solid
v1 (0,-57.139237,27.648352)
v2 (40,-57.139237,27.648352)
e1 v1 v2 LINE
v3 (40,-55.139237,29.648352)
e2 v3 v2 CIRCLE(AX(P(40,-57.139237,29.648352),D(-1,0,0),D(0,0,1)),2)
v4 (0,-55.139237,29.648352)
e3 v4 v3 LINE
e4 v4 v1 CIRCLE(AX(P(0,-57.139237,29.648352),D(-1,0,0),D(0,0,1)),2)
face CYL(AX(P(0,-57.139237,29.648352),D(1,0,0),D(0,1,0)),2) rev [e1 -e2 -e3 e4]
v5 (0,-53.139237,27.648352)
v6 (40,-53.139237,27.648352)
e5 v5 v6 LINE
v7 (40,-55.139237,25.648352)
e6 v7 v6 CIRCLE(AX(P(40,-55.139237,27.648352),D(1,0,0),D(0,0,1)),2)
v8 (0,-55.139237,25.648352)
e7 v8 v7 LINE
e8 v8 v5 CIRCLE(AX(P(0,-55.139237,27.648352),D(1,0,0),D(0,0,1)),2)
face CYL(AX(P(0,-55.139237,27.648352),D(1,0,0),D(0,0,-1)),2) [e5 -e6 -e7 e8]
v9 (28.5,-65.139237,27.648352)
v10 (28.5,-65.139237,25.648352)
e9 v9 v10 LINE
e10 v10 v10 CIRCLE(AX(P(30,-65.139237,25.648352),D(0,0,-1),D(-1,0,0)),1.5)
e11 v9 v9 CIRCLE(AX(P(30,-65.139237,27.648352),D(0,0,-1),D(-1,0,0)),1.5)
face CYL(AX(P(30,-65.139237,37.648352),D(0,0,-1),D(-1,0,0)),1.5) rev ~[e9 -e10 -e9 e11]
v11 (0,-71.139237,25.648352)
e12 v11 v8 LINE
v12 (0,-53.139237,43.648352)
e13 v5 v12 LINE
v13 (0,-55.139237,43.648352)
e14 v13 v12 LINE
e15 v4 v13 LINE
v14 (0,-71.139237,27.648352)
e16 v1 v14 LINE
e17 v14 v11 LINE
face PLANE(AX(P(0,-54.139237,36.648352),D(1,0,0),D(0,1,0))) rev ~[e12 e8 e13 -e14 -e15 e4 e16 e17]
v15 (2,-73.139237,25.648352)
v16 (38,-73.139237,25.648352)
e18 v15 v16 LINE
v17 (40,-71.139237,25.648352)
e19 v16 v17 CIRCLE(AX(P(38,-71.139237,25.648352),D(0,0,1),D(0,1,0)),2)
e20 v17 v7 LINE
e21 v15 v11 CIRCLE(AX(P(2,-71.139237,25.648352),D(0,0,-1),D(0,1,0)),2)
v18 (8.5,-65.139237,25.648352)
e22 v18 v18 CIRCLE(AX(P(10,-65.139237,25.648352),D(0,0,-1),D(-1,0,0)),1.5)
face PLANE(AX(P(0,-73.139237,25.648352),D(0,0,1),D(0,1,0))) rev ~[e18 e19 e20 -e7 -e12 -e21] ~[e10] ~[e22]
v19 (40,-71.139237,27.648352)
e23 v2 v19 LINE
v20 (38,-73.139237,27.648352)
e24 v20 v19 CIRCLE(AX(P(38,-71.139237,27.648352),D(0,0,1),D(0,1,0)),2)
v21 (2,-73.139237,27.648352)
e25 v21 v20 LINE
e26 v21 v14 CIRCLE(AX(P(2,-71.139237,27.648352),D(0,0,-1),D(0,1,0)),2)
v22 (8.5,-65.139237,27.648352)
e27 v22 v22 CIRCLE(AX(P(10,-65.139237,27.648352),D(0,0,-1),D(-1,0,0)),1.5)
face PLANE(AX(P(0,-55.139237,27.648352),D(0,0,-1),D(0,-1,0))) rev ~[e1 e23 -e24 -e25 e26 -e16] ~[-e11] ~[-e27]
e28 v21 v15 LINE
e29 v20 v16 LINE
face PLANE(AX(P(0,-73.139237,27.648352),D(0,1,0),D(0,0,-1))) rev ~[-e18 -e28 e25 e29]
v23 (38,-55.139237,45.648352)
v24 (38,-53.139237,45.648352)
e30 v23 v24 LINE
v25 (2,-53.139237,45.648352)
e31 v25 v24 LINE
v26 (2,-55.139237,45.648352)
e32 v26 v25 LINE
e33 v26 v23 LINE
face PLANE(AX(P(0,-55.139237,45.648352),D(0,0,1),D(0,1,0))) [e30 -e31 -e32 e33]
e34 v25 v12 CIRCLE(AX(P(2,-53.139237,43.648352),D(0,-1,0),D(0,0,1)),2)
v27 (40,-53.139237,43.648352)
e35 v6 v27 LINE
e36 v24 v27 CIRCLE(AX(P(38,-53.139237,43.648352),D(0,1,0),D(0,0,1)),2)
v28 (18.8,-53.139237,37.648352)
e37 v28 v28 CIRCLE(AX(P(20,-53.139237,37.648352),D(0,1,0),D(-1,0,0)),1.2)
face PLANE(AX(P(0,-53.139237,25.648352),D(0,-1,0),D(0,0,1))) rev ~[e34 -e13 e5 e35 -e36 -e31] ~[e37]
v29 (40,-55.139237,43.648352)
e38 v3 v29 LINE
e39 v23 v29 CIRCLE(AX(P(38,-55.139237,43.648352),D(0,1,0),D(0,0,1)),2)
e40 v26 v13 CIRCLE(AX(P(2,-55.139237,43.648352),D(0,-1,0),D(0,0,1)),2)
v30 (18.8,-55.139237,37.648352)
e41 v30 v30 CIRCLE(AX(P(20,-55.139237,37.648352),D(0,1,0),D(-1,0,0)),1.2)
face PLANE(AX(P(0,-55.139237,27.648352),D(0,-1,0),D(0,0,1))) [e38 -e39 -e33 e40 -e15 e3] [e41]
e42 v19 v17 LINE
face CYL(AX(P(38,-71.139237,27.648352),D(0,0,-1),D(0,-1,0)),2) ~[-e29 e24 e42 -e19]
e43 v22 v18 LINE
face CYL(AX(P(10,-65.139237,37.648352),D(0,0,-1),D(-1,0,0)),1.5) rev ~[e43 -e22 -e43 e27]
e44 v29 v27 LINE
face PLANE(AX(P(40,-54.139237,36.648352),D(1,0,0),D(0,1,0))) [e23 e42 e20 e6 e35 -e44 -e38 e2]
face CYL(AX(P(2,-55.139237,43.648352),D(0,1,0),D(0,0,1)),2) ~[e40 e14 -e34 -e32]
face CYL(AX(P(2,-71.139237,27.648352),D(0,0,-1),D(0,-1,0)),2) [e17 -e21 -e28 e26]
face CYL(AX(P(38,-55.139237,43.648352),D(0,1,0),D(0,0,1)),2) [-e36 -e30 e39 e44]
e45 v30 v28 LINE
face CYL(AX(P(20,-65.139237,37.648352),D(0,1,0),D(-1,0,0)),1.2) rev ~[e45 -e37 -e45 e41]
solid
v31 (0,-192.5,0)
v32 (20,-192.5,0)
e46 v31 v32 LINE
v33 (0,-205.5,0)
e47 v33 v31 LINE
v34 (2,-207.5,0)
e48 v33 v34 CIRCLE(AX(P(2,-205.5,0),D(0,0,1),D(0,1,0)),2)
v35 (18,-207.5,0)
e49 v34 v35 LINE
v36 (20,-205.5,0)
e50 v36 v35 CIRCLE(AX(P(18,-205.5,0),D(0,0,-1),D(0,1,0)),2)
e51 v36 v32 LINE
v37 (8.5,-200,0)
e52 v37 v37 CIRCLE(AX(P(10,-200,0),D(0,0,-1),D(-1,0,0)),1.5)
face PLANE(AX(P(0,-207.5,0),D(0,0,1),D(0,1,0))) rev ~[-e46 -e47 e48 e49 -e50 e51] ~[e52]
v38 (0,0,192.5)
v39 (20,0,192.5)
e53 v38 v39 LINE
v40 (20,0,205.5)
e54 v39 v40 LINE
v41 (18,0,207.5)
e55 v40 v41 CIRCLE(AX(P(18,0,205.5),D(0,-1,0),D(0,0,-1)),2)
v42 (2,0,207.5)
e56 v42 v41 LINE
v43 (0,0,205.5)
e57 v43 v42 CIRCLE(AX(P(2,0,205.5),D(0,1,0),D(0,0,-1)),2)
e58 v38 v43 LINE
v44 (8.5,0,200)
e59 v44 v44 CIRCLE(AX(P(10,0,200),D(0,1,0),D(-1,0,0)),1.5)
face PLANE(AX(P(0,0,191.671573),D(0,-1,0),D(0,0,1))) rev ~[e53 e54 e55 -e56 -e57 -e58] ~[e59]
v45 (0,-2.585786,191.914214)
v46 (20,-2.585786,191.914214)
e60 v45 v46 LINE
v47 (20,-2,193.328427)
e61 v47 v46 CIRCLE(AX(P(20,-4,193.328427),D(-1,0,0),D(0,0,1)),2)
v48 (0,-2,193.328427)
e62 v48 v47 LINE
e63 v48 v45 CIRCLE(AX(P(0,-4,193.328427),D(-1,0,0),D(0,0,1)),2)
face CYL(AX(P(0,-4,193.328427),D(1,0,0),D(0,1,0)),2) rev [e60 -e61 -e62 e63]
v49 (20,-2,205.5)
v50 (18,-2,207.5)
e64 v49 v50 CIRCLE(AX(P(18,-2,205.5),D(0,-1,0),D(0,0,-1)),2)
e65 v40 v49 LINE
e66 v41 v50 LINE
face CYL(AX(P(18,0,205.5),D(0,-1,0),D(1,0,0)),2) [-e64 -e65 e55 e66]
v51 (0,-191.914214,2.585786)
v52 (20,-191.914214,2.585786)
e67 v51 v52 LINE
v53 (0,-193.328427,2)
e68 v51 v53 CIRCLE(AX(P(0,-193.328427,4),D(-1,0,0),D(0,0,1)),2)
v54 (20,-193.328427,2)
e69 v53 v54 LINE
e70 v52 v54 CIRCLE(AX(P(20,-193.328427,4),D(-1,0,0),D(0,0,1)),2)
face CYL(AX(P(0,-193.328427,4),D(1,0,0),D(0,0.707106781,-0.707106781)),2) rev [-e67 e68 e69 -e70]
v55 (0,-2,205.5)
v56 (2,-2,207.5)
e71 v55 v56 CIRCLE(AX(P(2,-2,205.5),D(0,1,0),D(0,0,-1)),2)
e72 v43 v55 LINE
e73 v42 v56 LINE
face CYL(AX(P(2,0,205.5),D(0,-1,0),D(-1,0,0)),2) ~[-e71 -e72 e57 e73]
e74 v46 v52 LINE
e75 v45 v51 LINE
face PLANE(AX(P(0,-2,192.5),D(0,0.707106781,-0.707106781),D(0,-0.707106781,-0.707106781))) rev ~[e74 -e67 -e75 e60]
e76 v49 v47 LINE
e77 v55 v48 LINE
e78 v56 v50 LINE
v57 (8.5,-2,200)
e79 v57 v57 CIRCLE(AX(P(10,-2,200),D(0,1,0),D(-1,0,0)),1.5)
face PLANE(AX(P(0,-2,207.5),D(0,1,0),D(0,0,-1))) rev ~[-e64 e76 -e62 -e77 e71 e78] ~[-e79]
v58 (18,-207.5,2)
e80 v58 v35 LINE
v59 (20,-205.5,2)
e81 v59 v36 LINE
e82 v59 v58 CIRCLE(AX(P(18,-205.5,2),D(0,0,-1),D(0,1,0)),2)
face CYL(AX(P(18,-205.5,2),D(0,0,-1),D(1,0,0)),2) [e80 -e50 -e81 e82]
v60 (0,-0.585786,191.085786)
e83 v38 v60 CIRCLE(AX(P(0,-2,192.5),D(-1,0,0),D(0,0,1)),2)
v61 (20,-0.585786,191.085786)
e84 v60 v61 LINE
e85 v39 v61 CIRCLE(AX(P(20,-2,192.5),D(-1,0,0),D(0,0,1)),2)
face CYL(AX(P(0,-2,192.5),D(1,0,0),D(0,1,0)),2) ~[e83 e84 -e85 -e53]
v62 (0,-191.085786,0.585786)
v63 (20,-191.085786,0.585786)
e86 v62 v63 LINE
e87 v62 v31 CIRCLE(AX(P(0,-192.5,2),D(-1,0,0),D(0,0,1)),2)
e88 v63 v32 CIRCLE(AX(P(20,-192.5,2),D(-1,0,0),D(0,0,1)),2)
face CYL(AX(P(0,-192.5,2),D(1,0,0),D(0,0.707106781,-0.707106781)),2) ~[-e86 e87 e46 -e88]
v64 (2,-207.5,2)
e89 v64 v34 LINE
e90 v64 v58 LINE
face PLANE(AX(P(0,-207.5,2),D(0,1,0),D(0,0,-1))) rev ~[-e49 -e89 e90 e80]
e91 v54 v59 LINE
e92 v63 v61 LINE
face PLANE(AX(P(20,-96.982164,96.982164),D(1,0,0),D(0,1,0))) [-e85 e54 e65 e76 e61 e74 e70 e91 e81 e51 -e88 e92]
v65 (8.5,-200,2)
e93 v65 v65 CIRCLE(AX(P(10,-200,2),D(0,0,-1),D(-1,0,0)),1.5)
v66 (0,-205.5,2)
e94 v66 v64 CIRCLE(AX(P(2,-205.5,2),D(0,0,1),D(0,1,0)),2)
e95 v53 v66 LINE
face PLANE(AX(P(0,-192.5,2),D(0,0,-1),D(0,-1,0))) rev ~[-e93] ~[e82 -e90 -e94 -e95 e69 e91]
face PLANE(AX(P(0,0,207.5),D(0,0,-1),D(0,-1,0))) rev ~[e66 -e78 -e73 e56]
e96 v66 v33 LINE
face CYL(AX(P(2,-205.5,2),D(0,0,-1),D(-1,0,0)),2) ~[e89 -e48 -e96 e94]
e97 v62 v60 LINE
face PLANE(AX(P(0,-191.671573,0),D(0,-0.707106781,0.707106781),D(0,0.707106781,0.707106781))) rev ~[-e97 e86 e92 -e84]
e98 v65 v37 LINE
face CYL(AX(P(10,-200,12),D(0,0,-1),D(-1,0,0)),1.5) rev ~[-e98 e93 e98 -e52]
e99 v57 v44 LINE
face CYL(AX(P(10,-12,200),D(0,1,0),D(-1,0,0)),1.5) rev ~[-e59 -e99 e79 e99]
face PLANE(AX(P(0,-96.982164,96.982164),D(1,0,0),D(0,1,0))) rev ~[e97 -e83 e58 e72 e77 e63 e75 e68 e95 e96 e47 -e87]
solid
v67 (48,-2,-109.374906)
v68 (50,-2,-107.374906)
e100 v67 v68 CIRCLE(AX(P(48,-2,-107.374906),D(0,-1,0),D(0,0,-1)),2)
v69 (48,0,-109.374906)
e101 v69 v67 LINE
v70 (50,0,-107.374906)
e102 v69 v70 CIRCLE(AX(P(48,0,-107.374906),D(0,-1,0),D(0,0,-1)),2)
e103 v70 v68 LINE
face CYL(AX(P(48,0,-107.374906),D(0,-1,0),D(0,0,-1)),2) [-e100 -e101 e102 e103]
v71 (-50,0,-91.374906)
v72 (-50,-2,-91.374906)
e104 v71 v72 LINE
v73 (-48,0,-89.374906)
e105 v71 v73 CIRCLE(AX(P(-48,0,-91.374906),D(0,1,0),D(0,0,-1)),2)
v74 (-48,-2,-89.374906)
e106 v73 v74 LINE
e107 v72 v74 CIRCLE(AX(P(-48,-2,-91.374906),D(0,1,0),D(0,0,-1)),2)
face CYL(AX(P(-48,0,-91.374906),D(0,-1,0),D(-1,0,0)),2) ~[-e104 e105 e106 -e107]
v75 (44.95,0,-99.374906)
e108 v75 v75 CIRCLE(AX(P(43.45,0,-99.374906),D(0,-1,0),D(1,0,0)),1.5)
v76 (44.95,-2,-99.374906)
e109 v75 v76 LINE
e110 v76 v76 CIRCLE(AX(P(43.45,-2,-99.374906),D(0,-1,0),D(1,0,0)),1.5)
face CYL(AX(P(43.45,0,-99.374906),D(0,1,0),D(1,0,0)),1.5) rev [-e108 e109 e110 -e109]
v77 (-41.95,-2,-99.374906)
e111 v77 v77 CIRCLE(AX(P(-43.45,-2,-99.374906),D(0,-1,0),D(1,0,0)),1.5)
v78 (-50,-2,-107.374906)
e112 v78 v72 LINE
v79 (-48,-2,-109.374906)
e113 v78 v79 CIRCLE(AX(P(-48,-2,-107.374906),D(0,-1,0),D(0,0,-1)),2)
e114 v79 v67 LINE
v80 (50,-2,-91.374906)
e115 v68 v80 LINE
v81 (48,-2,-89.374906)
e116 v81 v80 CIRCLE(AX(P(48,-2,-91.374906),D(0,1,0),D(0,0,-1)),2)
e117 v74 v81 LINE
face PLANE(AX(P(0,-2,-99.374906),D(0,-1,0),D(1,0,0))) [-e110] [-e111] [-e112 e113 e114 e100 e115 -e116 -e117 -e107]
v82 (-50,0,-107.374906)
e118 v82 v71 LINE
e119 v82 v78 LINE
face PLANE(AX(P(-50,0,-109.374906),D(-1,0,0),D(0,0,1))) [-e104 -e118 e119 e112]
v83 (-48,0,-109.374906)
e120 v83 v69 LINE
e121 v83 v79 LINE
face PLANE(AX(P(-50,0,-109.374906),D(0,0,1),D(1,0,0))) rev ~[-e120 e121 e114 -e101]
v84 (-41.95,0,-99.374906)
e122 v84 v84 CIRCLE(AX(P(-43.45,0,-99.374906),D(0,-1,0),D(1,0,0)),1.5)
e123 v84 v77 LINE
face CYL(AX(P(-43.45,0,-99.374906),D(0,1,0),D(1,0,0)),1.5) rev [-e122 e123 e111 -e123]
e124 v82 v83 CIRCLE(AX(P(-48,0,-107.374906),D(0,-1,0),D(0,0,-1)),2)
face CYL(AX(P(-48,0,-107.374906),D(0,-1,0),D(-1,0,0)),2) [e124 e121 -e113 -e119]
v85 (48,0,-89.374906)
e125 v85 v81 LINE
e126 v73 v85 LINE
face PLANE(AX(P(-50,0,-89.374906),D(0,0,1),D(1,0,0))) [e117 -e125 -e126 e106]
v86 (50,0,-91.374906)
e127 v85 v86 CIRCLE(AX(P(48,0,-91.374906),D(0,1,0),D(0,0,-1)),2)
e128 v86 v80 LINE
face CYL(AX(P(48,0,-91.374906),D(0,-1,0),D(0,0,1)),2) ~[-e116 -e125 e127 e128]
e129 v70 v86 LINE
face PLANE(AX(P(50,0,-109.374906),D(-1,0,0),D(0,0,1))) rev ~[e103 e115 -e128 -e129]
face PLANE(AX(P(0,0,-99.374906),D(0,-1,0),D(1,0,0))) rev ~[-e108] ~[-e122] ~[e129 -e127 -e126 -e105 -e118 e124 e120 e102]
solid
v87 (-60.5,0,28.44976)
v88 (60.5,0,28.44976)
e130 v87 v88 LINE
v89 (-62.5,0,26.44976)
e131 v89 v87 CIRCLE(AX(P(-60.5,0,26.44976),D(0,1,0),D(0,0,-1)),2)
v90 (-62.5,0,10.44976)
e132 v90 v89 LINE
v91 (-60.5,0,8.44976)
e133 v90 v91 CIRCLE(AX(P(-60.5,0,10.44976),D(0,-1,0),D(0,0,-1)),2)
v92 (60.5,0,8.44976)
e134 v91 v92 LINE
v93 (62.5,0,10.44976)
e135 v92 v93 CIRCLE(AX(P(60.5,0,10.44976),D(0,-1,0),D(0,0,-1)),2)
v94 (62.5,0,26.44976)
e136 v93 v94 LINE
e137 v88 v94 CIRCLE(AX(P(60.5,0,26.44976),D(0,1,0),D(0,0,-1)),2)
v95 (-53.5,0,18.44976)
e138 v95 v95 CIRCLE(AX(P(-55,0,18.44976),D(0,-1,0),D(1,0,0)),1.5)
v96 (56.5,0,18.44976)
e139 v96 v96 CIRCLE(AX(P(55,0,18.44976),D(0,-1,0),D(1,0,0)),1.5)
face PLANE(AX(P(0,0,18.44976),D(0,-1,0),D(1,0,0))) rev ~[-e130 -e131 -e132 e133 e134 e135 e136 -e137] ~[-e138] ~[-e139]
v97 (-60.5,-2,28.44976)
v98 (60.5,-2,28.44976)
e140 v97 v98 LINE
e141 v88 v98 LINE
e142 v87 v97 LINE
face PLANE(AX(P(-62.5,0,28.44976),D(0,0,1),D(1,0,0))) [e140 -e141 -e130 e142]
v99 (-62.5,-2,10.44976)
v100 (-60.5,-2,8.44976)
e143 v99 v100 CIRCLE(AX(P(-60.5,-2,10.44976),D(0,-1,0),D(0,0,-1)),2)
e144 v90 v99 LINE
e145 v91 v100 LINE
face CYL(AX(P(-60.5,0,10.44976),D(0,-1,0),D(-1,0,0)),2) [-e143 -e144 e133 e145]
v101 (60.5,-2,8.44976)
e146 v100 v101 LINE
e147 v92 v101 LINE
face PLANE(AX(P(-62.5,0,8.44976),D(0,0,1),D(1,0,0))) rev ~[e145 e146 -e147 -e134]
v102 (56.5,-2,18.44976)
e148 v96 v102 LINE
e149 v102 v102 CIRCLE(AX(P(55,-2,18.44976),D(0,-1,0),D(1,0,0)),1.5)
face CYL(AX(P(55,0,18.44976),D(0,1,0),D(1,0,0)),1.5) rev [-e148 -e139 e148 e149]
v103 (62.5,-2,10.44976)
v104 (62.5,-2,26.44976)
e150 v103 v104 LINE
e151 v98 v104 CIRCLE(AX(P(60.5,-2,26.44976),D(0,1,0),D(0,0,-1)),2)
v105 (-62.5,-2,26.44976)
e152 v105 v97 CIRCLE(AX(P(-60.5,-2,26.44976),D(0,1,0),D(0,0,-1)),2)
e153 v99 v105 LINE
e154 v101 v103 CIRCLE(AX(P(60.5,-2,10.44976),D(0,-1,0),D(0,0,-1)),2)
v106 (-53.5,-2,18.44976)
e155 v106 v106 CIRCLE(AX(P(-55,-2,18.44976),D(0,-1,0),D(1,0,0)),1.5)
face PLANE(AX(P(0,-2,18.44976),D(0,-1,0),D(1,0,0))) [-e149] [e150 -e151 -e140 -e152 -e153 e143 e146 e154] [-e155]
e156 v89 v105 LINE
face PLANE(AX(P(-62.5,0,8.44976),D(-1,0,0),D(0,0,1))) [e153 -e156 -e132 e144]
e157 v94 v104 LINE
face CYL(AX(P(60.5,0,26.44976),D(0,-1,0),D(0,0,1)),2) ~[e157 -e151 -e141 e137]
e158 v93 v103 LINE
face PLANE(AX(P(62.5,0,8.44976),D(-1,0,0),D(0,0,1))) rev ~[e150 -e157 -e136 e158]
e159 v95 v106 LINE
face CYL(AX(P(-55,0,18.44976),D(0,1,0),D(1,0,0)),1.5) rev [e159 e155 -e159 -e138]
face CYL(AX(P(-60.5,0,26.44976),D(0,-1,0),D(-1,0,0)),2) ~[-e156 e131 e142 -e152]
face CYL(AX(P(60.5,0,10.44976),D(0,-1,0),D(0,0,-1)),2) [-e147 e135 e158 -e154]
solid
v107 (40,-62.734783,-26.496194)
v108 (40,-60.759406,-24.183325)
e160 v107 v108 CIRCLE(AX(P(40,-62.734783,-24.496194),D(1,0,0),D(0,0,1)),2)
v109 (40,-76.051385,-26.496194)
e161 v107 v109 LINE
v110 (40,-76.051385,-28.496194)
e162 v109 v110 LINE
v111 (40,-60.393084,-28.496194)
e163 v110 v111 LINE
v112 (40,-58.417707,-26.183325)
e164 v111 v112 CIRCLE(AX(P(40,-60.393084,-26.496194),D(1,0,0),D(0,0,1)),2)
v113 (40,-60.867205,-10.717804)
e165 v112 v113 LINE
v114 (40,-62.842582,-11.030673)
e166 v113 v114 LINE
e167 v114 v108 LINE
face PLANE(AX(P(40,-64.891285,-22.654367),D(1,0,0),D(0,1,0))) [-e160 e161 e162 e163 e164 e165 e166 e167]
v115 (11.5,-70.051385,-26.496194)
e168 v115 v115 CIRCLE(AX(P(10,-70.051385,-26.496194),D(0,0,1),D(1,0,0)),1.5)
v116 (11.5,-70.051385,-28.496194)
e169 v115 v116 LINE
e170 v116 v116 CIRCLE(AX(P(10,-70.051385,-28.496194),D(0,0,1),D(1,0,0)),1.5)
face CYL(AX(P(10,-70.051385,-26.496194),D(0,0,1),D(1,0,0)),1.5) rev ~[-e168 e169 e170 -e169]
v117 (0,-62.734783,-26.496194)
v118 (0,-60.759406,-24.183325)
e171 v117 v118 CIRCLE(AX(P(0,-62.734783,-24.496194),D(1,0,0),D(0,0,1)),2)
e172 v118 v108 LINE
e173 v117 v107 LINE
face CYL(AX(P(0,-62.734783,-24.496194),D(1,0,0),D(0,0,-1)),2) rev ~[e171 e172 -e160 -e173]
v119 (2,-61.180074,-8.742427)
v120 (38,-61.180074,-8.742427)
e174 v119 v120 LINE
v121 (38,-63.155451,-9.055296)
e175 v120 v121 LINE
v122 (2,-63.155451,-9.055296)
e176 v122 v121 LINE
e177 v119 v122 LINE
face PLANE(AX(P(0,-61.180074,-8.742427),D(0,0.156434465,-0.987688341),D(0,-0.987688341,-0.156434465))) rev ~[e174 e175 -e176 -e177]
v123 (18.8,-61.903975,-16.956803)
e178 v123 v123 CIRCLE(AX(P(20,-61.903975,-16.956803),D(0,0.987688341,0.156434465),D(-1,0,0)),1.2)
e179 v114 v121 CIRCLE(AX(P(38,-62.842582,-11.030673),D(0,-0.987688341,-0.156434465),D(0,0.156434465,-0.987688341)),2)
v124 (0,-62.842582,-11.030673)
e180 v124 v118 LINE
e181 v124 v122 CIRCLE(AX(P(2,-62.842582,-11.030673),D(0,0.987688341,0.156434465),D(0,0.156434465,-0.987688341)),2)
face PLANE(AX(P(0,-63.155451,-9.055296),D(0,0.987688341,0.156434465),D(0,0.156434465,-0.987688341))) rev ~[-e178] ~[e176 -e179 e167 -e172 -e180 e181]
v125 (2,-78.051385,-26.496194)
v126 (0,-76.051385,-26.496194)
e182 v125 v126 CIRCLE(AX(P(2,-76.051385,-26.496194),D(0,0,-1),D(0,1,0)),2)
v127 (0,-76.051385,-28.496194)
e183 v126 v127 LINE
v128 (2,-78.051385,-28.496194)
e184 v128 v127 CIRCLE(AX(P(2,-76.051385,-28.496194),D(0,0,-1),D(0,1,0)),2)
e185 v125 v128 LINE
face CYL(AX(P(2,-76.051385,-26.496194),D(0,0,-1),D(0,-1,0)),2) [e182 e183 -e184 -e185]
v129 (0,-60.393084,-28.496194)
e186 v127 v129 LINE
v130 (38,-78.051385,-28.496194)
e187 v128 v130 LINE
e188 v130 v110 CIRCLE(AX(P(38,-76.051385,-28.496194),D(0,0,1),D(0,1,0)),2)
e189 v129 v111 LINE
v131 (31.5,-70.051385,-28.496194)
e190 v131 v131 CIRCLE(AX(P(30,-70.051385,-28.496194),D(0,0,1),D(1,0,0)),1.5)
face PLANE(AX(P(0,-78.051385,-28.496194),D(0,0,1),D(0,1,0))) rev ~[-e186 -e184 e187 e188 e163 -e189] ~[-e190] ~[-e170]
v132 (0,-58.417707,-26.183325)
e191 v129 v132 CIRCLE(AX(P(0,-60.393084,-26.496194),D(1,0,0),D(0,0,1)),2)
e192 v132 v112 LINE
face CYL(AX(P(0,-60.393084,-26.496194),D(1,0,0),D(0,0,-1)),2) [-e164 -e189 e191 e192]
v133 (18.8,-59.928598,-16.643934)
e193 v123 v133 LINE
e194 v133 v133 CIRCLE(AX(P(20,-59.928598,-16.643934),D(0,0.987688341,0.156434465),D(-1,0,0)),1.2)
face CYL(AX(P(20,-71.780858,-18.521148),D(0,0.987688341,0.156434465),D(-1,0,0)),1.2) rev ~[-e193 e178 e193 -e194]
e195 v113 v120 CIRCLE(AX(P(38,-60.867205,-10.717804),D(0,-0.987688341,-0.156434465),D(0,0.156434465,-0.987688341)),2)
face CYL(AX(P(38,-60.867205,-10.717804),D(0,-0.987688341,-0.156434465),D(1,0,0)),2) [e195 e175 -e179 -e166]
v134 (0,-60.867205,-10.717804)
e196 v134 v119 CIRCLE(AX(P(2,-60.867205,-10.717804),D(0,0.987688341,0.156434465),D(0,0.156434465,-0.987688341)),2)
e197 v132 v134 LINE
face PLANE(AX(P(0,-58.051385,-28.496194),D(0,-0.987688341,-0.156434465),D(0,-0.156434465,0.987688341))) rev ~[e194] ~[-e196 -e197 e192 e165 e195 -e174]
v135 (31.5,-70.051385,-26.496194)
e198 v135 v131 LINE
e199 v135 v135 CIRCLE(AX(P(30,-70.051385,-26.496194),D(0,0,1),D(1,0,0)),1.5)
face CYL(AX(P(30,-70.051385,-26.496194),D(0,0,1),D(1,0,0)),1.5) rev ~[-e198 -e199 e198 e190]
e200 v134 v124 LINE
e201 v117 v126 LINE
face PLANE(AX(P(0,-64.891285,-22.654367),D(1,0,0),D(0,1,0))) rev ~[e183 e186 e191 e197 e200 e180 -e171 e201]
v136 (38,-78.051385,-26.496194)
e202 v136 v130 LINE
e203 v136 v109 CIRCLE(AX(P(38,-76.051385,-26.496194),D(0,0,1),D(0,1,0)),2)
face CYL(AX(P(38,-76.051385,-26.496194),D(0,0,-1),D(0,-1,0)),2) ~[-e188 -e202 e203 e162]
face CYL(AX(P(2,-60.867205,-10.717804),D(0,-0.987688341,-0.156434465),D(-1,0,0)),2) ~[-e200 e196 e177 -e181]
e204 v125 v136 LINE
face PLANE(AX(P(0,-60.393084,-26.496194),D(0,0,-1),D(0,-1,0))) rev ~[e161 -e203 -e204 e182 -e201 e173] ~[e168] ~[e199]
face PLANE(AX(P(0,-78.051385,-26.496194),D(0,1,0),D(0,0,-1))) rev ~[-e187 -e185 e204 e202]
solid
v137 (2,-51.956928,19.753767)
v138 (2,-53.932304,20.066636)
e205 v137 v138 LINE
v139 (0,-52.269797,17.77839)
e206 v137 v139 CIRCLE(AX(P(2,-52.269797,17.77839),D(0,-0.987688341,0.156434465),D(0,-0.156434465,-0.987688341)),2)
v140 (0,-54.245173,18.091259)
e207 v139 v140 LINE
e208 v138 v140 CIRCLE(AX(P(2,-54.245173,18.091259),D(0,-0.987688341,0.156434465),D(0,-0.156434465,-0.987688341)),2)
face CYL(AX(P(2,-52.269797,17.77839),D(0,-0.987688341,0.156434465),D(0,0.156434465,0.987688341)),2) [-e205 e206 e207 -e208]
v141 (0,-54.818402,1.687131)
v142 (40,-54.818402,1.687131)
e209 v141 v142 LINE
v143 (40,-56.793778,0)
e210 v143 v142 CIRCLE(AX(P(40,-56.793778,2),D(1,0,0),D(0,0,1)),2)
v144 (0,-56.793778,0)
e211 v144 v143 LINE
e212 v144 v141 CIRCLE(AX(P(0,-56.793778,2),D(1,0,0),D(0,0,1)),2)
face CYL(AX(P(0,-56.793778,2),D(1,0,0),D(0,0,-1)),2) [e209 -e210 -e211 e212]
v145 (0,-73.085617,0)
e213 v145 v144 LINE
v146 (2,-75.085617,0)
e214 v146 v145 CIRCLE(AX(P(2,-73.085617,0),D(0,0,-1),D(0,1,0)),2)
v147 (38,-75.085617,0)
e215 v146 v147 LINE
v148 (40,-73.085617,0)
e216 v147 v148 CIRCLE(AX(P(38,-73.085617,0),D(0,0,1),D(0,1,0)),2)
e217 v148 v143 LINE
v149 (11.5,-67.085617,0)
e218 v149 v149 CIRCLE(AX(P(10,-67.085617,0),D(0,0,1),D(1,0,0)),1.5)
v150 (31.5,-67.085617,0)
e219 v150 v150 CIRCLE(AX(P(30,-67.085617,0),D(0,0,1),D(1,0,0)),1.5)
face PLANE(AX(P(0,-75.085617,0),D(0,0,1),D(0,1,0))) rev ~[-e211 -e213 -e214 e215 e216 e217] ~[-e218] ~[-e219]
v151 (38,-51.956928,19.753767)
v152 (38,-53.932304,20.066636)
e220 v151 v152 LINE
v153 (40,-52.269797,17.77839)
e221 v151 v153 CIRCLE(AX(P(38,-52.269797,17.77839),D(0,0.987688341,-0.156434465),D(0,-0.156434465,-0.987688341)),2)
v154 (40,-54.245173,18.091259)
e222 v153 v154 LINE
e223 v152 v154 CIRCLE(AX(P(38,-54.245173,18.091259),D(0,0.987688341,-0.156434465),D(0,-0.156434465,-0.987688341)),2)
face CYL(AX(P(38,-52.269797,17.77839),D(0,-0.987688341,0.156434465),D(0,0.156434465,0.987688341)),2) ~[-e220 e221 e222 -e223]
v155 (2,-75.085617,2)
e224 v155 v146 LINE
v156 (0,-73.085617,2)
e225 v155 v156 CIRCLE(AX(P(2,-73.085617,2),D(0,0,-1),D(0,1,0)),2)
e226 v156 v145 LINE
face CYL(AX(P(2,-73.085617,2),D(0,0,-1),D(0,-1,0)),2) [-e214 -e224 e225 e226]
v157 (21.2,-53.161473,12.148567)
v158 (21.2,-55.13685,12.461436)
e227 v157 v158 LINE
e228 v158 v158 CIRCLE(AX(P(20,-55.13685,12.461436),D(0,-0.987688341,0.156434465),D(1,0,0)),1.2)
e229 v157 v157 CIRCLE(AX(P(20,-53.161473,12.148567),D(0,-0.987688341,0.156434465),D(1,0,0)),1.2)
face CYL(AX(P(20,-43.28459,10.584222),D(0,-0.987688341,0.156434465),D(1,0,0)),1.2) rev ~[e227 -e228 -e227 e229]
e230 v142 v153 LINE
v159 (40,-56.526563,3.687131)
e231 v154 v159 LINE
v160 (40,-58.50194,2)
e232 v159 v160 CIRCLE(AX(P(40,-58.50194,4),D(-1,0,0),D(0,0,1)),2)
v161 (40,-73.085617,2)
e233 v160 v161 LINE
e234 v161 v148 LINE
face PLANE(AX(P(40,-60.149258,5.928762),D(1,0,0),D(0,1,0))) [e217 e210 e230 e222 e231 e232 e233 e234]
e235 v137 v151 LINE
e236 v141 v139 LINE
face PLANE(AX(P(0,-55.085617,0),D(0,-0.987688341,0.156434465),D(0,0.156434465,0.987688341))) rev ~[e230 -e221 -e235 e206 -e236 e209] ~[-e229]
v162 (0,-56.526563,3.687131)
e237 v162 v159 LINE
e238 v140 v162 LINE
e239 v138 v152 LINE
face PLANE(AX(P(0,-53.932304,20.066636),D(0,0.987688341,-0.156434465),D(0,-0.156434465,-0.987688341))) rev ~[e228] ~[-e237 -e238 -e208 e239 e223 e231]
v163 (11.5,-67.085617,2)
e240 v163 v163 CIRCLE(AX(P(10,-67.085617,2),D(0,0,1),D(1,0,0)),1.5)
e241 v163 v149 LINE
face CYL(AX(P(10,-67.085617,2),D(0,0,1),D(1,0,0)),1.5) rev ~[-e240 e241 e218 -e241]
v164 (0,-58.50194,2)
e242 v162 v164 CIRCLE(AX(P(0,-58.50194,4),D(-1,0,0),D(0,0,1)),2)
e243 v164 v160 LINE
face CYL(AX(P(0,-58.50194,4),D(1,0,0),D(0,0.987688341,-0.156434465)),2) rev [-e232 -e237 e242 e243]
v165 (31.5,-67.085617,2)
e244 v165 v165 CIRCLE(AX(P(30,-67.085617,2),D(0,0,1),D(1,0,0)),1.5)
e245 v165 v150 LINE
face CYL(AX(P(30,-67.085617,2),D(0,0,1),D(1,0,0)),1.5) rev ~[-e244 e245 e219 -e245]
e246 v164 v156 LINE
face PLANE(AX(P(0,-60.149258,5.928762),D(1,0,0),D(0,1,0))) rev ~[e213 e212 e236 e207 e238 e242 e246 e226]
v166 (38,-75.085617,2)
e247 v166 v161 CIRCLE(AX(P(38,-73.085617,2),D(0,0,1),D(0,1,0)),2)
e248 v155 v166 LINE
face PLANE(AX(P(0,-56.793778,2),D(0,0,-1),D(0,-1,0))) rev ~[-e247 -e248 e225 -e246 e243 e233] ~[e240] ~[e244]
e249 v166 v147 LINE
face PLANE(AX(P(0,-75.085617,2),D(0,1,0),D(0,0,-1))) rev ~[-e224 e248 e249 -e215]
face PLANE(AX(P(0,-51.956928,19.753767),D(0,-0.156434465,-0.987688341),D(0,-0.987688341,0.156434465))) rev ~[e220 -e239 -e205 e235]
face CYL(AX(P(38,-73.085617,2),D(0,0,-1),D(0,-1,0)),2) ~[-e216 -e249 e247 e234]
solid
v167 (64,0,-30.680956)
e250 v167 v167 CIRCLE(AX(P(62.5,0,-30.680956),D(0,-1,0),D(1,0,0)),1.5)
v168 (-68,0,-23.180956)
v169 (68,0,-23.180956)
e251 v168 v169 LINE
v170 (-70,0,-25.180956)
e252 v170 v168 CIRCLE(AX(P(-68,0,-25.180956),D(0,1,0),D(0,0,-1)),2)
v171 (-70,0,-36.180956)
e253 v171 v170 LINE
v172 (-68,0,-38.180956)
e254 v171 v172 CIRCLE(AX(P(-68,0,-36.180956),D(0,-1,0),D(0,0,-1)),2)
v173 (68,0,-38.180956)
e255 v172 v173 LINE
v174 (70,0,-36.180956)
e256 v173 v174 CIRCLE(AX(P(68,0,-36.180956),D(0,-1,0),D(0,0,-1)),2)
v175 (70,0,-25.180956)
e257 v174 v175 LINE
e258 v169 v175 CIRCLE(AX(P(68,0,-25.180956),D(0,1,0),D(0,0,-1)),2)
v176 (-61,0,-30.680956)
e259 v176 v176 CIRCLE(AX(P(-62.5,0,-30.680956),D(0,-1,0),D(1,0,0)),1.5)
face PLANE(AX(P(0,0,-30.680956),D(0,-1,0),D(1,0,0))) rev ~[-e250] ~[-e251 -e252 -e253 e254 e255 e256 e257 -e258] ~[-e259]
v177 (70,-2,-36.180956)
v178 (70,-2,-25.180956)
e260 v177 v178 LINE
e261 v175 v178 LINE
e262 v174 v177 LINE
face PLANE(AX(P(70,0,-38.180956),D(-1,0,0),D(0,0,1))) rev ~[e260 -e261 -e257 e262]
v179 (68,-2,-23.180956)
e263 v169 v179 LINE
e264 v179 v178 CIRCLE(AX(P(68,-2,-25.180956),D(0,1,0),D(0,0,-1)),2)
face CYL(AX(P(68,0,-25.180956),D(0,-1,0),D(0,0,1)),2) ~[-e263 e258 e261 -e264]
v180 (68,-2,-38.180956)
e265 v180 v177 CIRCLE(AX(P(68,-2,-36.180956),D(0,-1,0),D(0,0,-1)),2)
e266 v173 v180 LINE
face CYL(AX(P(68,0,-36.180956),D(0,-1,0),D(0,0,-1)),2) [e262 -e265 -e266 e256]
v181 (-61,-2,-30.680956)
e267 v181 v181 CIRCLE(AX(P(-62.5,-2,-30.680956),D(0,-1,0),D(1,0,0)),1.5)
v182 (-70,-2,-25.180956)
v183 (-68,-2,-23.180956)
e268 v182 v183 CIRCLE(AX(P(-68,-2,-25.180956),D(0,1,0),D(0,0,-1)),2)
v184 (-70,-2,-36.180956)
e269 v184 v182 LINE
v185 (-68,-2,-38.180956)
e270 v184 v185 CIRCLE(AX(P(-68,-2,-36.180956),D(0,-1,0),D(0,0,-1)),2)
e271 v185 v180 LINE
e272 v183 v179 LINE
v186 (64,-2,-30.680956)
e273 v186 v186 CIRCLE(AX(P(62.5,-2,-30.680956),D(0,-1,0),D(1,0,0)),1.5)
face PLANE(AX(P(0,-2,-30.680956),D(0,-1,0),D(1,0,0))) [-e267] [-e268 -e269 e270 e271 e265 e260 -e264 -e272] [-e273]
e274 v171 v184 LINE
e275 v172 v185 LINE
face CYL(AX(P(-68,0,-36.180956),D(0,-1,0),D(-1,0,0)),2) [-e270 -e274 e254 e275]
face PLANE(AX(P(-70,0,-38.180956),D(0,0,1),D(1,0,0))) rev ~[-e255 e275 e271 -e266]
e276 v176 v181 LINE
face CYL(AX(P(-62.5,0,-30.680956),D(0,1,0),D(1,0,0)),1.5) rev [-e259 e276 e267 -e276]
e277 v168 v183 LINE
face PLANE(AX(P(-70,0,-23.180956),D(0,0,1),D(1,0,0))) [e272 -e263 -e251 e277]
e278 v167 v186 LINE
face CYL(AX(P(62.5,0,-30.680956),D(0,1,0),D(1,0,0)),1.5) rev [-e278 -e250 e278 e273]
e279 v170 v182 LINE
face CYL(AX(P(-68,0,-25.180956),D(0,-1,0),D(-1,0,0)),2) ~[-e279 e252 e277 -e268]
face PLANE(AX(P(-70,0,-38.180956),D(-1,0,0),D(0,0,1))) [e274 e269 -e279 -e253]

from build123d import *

# Parameters (mm, degrees)
F0_W             = 125
F0_H             = 20
F0_R             = 1.5
F1_DEPTH         = 2
F2_R             = 2
F3_W             = 140
F3_H             = 15
F3_R             = 1.5
F4_DEPTH         = 2
F5_R             = 2
F7_DEPTH         = 20
F10_D            = 3
F10_DEPTH        = 10
F10_TIP          = 0.9012909285
F10_ON_F9_D      = 3
F10_ON_F9_DEPTH  = 10
F10_ON_F9_TIP    = 0.9012909285
F11_R            = 2
F12_W            = 100
F12_H            = 20
F12_R            = 1.5
F13_DEPTH        = 2
F14_R            = 2
F15_W            = 2
F15_H            = 18
F16_DEPTH        = 40
F19_R            = 2
F21_DEPTH        = 40
F24_R            = 2
F26_DEPTH        = 40
F29_D            = 3
F29_DEPTH        = 10
F29_TIP          = 0.9012909285
F29_ON_F23_D     = 3
F29_ON_F23_DEPTH = 10
F29_ON_F23_TIP   = 0.9012909285
F29_ON_F27_D     = 3
F29_ON_F27_DEPTH = 10
F29_ON_F27_TIP   = 0.9012909285
F30_D            = 2.4
F30_DEPTH        = 10
F30_TIP          = 0.7210327428
F30_ON_F22_D     = 2.4
F30_ON_F22_DEPTH = 10
F30_ON_F22_TIP   = 0.7210327428
F30_ON_F28_D     = 2.4
F30_ON_F28_DEPTH = 10
F30_ON_F28_TIP   = 0.7210327428
F31_R            = 2


with BuildPart() as f1:
    # F0 (on Front) → F1 (new body)
    with BuildSketch(Plane.XZ):
        with Locations((0, 18.4497599971)):
            Rectangle(F0_W, F0_H)
        with Locations((-55, 18.4497599971)):
            Circle(F0_R, mode=Mode.SUBTRACT)
        with Locations((55, 18.4497599971)):
            Circle(F0_R, mode=Mode.SUBTRACT)
    extrude(amount=F1_DEPTH)

    # F2
    f2_edges = [f1.edges().sort_by_distance(p)[0] for p in [
        (-62.5, -1, 28.44976),
        (-62.5, -1, 8.44976),
        (62.5, -1, 28.44976),
        (62.5, -1, 8.44976),
    ]]
    fillet(f2_edges, radius=F2_R)


with BuildPart() as f4:
    # F3 (on Front) → F4 (new body)
    with BuildSketch(Plane.XZ):
        with Locations((0, -30.6809564592)):
            Rectangle(F3_W, F3_H)
        with Locations((-62.5, -30.6809564592)):
            Circle(F3_R, mode=Mode.SUBTRACT)
        with Locations((62.5, -30.6809564592)):
            Circle(F3_R, mode=Mode.SUBTRACT)
    extrude(amount=F4_DEPTH)

    # F5
    f5_edges = [f4.edges().sort_by_distance(p)[0] for p in [
        (-70, -1, -23.180956),
        (-70, -1, -38.180956),
        (70, -1, -23.180956),
        (70, -1, -38.180956),
    ]]
    fillet(f5_edges, radius=F5_R)


with BuildPart() as f7:
    # F6 (on Right) → F7 (new body)
    with BuildSketch(Plane.YZ):
        Polygon((0, 191.6715728753), (0, 207.5), (-2, 207.5), (-2, 192.5), (-192.5, 2), (-207.5, 2), (-207.5, 0), (-191.6715728753, 0), align=None)
    extrude(amount=F7_DEPTH)

    # F10
    with Locations(Plane.XZ.offset(2)):
        with Locations((10, 200)):
            Hole(F10_D / 2, depth=F10_DEPTH)
            with Locations((0, 0, -(F10_DEPTH + F10_TIP / 2))):  # 118° drill point
                Cone(0, F10_D / 2, F10_TIP, mode=Mode.SUBTRACT)

    # F10 on F9
    with Locations(Plane.XY.offset(2)):
        with Locations((10, -200)):
            Hole(F10_ON_F9_D / 2, depth=F10_ON_F9_DEPTH)
            with Locations((0, 0, -(F10_ON_F9_DEPTH + F10_ON_F9_TIP / 2))):  # 118° drill point
                Cone(0, F10_ON_F9_D / 2, F10_ON_F9_TIP, mode=Mode.SUBTRACT)

    # F11
    f11_edges = [f7.edges().sort_by_distance(p)[0] for p in [
        (10, -2, 192.5),
        (10, 0, 191.671573),
        (10, -191.671573, 0),
        (10, -192.5, 2),
        (0, -1, 207.5),
        (20, -1, 207.5),
        (20, -207.5, 1),
        (0, -207.5, 1),
    ]]
    fillet(f11_edges, radius=F11_R)


with BuildPart() as f13:
    # F12 (on Front) → F13 (new body)
    with BuildSketch(Plane.XZ):
        with Locations((0, -99.3749059932)):
            Rectangle(F12_W, F12_H)
        with Locations((-43.45, -99.3749059932)):
            Circle(F12_R, mode=Mode.SUBTRACT)
        with Locations((43.45, -99.3749059932)):
            Circle(F12_R, mode=Mode.SUBTRACT)
    extrude(amount=F13_DEPTH)

    # F14
    f14_edges = [f13.edges().sort_by_distance(p)[0] for p in [
        (-50, -1, -89.374906),
        (-50, -1, -109.374906),
        (50, -1, -89.374906),
        (50, -1, -109.374906),
    ]]
    fillet(f14_edges, radius=F14_R)


with BuildPart() as f16:
    # F15 (on Right) → F16 (new body)
    with BuildSketch(Plane.YZ):
        with Locations((-54.1392371425, 36.6483518409)):
            Rectangle(F15_W, F15_H)
        Polygon((-53.1392371425, 25.6483518409), (-53.1392371425, 27.6483518409), (-55.1392371425, 27.6483518409), (-73.1392371425, 27.6483518409), (-73.1392371425, 25.6483518409), align=None)
    extrude(amount=F16_DEPTH)

    # F19
    f19_edges = [f16.edges().sort_by_distance(p)[0] for p in [
        (20, -55.139237, 27.648352),
        (20, -53.139237, 25.648352),
        (0, -54.139237, 45.648352),
        (40, -54.139237, 45.648352),
        (40, -73.139237, 26.648352),
        (0, -73.139237, 26.648352),
    ]]
    fillet(f19_edges, radius=F19_R)

    # F29
    with Locations(Plane.XY.offset(27.6483518409)):
        with Locations((10, -65.1392371425), (30, -65.1392371425)):
            Hole(F29_D / 2, depth=F29_DEPTH)
            with Locations((0, 0, -(F29_DEPTH + F29_TIP / 2))):  # 118° drill point
                Cone(0, F29_D / 2, F29_TIP, mode=Mode.SUBTRACT)

    # F30
    with Locations(Plane.XZ.offset(55.1392371425)):
        with Locations((20, 37.6483518409)):
            Hole(F30_D / 2, depth=F30_DEPTH)
            with Locations((0, 0, -(F30_DEPTH + F30_TIP / 2))):  # 118° drill point
                Cone(0, F30_D / 2, F30_TIP, mode=Mode.SUBTRACT)


with BuildPart() as f21:
    # F20 (on Right) → F21 (new body)
    with BuildSketch(Plane.YZ):
        Polygon((-75.0856169772, 2), (-75.0856169772, 0), (-55.0856169772, 0), (-51.9569276764, 19.7537668119), (-53.9323043576, 20.066635742), (-56.7937783482, 2), align=None)
    extrude(amount=F21_DEPTH)

    # F24
    f24_edges = [f21.edges().sort_by_distance(p)[0] for p in [
        (20, -56.793778, 2),
        (20, -55.085617, 0),
        (0, -52.944616, 19.910201),
        (0, -75.085617, 1),
        (40, -75.085617, 1),
        (40, -52.944616, 19.910201),
    ]]
    fillet(f24_edges, radius=F24_R)

    # F29 on F23 (one way)
    with BuildSketch(Plane.XY.offset(2)):
        with Locations((30, -67.0856169772), (10, -67.0856169772)):
            Circle(F29_ON_F23_D / 2)
    extrude(amount=-F29_ON_F23_DEPTH, mode=Mode.SUBTRACT)
    with Locations(Plane.XY.offset(2)):
        with Locations((30, -67.0856169772), (10, -67.0856169772)):
            with Locations((0, 0, -(F29_ON_F23_DEPTH + F29_ON_F23_TIP / 2))):  # 118° drill point
                Cone(0, F29_ON_F23_D / 2, F29_ON_F23_TIP, mode=Mode.SUBTRACT)

    # F30 on F22
    with Locations(Plane(origin=(0, -53.7375759788, 8.5111958958), x_dir=(-1, 0, 0), z_dir=(0, 0.9876883406, -0.156434465))):
        with Locations((-20, 3.6827109768)):
            Hole(F30_ON_F22_D / 2, depth=F30_ON_F22_DEPTH)
            with Locations((0, 0, -(F30_ON_F22_DEPTH + F30_ON_F22_TIP / 2))):  # 118° drill point
                Cone(0, F30_ON_F22_D / 2, F30_ON_F22_TIP, mode=Mode.SUBTRACT)


with BuildPart() as f26:
    # F25 (on Right) → F26 (new body)
    with BuildSketch(Plane.YZ):
        Polygon((-78.0513847571, -26.4961942312), (-78.0513847571, -28.4961942312), (-58.0513847571, -28.4961942312), (-61.1800740579, -8.7424274193), (-63.1554507391, -9.0552963494), (-60.3930838894, -26.4961942312), align=None)
    extrude(amount=F26_DEPTH)

    # F29 on F27 (one way)
    with BuildSketch(Plane.XY.offset(-26.4961942312)):
        with Locations((10, -70.0513847571), (30, -70.0513847571)):
            Circle(F29_ON_F27_D / 2)
    extrude(amount=-F29_ON_F27_DEPTH, mode=Mode.SUBTRACT)
    with Locations(Plane.XY.offset(-26.4961942312)):
        with Locations((10, -70.0513847571), (30, -70.0513847571)):
            with Locations((0, 0, -(F29_ON_F27_DEPTH + F29_ON_F27_TIP / 2))):  # 118° drill point
                Cone(0, F29_ON_F27_D / 2, F29_ON_F27_TIP, mode=Mode.SUBTRACT)

    # F30 on F28
    with Locations(Plane(origin=(0, -63.0090470826, -9.9796526576), x_dir=(1, 0, 0), z_dir=(0, -0.9876883406, -0.156434465))):
        with Locations((20, -7.0641214742)):
            Hole(F30_ON_F28_D / 2, depth=F30_ON_F28_DEPTH)
            with Locations((0, 0, -(F30_ON_F28_DEPTH + F30_ON_F28_TIP / 2))):  # 118° drill point
                Cone(0, F30_ON_F28_D / 2, F30_ON_F28_TIP, mode=Mode.SUBTRACT)

    # F31
    f31_edges = [f26.edges().sort_by_distance(p)[0] for p in [
        (20, -60.393084, -26.496194),
        (20, -58.051385, -28.496194),
        (40, -62.167762, -8.898862),
        (0, -62.167762, -8.898862),
        (0, -78.051385, -27.496194),
        (40, -78.051385, -27.496194),
    ]]
    fillet(f31_edges, radius=F31_R)


solid = Compound([f1.part, f4.part, f7.part, f13.part, f16.part, f21.part, f26.part])
